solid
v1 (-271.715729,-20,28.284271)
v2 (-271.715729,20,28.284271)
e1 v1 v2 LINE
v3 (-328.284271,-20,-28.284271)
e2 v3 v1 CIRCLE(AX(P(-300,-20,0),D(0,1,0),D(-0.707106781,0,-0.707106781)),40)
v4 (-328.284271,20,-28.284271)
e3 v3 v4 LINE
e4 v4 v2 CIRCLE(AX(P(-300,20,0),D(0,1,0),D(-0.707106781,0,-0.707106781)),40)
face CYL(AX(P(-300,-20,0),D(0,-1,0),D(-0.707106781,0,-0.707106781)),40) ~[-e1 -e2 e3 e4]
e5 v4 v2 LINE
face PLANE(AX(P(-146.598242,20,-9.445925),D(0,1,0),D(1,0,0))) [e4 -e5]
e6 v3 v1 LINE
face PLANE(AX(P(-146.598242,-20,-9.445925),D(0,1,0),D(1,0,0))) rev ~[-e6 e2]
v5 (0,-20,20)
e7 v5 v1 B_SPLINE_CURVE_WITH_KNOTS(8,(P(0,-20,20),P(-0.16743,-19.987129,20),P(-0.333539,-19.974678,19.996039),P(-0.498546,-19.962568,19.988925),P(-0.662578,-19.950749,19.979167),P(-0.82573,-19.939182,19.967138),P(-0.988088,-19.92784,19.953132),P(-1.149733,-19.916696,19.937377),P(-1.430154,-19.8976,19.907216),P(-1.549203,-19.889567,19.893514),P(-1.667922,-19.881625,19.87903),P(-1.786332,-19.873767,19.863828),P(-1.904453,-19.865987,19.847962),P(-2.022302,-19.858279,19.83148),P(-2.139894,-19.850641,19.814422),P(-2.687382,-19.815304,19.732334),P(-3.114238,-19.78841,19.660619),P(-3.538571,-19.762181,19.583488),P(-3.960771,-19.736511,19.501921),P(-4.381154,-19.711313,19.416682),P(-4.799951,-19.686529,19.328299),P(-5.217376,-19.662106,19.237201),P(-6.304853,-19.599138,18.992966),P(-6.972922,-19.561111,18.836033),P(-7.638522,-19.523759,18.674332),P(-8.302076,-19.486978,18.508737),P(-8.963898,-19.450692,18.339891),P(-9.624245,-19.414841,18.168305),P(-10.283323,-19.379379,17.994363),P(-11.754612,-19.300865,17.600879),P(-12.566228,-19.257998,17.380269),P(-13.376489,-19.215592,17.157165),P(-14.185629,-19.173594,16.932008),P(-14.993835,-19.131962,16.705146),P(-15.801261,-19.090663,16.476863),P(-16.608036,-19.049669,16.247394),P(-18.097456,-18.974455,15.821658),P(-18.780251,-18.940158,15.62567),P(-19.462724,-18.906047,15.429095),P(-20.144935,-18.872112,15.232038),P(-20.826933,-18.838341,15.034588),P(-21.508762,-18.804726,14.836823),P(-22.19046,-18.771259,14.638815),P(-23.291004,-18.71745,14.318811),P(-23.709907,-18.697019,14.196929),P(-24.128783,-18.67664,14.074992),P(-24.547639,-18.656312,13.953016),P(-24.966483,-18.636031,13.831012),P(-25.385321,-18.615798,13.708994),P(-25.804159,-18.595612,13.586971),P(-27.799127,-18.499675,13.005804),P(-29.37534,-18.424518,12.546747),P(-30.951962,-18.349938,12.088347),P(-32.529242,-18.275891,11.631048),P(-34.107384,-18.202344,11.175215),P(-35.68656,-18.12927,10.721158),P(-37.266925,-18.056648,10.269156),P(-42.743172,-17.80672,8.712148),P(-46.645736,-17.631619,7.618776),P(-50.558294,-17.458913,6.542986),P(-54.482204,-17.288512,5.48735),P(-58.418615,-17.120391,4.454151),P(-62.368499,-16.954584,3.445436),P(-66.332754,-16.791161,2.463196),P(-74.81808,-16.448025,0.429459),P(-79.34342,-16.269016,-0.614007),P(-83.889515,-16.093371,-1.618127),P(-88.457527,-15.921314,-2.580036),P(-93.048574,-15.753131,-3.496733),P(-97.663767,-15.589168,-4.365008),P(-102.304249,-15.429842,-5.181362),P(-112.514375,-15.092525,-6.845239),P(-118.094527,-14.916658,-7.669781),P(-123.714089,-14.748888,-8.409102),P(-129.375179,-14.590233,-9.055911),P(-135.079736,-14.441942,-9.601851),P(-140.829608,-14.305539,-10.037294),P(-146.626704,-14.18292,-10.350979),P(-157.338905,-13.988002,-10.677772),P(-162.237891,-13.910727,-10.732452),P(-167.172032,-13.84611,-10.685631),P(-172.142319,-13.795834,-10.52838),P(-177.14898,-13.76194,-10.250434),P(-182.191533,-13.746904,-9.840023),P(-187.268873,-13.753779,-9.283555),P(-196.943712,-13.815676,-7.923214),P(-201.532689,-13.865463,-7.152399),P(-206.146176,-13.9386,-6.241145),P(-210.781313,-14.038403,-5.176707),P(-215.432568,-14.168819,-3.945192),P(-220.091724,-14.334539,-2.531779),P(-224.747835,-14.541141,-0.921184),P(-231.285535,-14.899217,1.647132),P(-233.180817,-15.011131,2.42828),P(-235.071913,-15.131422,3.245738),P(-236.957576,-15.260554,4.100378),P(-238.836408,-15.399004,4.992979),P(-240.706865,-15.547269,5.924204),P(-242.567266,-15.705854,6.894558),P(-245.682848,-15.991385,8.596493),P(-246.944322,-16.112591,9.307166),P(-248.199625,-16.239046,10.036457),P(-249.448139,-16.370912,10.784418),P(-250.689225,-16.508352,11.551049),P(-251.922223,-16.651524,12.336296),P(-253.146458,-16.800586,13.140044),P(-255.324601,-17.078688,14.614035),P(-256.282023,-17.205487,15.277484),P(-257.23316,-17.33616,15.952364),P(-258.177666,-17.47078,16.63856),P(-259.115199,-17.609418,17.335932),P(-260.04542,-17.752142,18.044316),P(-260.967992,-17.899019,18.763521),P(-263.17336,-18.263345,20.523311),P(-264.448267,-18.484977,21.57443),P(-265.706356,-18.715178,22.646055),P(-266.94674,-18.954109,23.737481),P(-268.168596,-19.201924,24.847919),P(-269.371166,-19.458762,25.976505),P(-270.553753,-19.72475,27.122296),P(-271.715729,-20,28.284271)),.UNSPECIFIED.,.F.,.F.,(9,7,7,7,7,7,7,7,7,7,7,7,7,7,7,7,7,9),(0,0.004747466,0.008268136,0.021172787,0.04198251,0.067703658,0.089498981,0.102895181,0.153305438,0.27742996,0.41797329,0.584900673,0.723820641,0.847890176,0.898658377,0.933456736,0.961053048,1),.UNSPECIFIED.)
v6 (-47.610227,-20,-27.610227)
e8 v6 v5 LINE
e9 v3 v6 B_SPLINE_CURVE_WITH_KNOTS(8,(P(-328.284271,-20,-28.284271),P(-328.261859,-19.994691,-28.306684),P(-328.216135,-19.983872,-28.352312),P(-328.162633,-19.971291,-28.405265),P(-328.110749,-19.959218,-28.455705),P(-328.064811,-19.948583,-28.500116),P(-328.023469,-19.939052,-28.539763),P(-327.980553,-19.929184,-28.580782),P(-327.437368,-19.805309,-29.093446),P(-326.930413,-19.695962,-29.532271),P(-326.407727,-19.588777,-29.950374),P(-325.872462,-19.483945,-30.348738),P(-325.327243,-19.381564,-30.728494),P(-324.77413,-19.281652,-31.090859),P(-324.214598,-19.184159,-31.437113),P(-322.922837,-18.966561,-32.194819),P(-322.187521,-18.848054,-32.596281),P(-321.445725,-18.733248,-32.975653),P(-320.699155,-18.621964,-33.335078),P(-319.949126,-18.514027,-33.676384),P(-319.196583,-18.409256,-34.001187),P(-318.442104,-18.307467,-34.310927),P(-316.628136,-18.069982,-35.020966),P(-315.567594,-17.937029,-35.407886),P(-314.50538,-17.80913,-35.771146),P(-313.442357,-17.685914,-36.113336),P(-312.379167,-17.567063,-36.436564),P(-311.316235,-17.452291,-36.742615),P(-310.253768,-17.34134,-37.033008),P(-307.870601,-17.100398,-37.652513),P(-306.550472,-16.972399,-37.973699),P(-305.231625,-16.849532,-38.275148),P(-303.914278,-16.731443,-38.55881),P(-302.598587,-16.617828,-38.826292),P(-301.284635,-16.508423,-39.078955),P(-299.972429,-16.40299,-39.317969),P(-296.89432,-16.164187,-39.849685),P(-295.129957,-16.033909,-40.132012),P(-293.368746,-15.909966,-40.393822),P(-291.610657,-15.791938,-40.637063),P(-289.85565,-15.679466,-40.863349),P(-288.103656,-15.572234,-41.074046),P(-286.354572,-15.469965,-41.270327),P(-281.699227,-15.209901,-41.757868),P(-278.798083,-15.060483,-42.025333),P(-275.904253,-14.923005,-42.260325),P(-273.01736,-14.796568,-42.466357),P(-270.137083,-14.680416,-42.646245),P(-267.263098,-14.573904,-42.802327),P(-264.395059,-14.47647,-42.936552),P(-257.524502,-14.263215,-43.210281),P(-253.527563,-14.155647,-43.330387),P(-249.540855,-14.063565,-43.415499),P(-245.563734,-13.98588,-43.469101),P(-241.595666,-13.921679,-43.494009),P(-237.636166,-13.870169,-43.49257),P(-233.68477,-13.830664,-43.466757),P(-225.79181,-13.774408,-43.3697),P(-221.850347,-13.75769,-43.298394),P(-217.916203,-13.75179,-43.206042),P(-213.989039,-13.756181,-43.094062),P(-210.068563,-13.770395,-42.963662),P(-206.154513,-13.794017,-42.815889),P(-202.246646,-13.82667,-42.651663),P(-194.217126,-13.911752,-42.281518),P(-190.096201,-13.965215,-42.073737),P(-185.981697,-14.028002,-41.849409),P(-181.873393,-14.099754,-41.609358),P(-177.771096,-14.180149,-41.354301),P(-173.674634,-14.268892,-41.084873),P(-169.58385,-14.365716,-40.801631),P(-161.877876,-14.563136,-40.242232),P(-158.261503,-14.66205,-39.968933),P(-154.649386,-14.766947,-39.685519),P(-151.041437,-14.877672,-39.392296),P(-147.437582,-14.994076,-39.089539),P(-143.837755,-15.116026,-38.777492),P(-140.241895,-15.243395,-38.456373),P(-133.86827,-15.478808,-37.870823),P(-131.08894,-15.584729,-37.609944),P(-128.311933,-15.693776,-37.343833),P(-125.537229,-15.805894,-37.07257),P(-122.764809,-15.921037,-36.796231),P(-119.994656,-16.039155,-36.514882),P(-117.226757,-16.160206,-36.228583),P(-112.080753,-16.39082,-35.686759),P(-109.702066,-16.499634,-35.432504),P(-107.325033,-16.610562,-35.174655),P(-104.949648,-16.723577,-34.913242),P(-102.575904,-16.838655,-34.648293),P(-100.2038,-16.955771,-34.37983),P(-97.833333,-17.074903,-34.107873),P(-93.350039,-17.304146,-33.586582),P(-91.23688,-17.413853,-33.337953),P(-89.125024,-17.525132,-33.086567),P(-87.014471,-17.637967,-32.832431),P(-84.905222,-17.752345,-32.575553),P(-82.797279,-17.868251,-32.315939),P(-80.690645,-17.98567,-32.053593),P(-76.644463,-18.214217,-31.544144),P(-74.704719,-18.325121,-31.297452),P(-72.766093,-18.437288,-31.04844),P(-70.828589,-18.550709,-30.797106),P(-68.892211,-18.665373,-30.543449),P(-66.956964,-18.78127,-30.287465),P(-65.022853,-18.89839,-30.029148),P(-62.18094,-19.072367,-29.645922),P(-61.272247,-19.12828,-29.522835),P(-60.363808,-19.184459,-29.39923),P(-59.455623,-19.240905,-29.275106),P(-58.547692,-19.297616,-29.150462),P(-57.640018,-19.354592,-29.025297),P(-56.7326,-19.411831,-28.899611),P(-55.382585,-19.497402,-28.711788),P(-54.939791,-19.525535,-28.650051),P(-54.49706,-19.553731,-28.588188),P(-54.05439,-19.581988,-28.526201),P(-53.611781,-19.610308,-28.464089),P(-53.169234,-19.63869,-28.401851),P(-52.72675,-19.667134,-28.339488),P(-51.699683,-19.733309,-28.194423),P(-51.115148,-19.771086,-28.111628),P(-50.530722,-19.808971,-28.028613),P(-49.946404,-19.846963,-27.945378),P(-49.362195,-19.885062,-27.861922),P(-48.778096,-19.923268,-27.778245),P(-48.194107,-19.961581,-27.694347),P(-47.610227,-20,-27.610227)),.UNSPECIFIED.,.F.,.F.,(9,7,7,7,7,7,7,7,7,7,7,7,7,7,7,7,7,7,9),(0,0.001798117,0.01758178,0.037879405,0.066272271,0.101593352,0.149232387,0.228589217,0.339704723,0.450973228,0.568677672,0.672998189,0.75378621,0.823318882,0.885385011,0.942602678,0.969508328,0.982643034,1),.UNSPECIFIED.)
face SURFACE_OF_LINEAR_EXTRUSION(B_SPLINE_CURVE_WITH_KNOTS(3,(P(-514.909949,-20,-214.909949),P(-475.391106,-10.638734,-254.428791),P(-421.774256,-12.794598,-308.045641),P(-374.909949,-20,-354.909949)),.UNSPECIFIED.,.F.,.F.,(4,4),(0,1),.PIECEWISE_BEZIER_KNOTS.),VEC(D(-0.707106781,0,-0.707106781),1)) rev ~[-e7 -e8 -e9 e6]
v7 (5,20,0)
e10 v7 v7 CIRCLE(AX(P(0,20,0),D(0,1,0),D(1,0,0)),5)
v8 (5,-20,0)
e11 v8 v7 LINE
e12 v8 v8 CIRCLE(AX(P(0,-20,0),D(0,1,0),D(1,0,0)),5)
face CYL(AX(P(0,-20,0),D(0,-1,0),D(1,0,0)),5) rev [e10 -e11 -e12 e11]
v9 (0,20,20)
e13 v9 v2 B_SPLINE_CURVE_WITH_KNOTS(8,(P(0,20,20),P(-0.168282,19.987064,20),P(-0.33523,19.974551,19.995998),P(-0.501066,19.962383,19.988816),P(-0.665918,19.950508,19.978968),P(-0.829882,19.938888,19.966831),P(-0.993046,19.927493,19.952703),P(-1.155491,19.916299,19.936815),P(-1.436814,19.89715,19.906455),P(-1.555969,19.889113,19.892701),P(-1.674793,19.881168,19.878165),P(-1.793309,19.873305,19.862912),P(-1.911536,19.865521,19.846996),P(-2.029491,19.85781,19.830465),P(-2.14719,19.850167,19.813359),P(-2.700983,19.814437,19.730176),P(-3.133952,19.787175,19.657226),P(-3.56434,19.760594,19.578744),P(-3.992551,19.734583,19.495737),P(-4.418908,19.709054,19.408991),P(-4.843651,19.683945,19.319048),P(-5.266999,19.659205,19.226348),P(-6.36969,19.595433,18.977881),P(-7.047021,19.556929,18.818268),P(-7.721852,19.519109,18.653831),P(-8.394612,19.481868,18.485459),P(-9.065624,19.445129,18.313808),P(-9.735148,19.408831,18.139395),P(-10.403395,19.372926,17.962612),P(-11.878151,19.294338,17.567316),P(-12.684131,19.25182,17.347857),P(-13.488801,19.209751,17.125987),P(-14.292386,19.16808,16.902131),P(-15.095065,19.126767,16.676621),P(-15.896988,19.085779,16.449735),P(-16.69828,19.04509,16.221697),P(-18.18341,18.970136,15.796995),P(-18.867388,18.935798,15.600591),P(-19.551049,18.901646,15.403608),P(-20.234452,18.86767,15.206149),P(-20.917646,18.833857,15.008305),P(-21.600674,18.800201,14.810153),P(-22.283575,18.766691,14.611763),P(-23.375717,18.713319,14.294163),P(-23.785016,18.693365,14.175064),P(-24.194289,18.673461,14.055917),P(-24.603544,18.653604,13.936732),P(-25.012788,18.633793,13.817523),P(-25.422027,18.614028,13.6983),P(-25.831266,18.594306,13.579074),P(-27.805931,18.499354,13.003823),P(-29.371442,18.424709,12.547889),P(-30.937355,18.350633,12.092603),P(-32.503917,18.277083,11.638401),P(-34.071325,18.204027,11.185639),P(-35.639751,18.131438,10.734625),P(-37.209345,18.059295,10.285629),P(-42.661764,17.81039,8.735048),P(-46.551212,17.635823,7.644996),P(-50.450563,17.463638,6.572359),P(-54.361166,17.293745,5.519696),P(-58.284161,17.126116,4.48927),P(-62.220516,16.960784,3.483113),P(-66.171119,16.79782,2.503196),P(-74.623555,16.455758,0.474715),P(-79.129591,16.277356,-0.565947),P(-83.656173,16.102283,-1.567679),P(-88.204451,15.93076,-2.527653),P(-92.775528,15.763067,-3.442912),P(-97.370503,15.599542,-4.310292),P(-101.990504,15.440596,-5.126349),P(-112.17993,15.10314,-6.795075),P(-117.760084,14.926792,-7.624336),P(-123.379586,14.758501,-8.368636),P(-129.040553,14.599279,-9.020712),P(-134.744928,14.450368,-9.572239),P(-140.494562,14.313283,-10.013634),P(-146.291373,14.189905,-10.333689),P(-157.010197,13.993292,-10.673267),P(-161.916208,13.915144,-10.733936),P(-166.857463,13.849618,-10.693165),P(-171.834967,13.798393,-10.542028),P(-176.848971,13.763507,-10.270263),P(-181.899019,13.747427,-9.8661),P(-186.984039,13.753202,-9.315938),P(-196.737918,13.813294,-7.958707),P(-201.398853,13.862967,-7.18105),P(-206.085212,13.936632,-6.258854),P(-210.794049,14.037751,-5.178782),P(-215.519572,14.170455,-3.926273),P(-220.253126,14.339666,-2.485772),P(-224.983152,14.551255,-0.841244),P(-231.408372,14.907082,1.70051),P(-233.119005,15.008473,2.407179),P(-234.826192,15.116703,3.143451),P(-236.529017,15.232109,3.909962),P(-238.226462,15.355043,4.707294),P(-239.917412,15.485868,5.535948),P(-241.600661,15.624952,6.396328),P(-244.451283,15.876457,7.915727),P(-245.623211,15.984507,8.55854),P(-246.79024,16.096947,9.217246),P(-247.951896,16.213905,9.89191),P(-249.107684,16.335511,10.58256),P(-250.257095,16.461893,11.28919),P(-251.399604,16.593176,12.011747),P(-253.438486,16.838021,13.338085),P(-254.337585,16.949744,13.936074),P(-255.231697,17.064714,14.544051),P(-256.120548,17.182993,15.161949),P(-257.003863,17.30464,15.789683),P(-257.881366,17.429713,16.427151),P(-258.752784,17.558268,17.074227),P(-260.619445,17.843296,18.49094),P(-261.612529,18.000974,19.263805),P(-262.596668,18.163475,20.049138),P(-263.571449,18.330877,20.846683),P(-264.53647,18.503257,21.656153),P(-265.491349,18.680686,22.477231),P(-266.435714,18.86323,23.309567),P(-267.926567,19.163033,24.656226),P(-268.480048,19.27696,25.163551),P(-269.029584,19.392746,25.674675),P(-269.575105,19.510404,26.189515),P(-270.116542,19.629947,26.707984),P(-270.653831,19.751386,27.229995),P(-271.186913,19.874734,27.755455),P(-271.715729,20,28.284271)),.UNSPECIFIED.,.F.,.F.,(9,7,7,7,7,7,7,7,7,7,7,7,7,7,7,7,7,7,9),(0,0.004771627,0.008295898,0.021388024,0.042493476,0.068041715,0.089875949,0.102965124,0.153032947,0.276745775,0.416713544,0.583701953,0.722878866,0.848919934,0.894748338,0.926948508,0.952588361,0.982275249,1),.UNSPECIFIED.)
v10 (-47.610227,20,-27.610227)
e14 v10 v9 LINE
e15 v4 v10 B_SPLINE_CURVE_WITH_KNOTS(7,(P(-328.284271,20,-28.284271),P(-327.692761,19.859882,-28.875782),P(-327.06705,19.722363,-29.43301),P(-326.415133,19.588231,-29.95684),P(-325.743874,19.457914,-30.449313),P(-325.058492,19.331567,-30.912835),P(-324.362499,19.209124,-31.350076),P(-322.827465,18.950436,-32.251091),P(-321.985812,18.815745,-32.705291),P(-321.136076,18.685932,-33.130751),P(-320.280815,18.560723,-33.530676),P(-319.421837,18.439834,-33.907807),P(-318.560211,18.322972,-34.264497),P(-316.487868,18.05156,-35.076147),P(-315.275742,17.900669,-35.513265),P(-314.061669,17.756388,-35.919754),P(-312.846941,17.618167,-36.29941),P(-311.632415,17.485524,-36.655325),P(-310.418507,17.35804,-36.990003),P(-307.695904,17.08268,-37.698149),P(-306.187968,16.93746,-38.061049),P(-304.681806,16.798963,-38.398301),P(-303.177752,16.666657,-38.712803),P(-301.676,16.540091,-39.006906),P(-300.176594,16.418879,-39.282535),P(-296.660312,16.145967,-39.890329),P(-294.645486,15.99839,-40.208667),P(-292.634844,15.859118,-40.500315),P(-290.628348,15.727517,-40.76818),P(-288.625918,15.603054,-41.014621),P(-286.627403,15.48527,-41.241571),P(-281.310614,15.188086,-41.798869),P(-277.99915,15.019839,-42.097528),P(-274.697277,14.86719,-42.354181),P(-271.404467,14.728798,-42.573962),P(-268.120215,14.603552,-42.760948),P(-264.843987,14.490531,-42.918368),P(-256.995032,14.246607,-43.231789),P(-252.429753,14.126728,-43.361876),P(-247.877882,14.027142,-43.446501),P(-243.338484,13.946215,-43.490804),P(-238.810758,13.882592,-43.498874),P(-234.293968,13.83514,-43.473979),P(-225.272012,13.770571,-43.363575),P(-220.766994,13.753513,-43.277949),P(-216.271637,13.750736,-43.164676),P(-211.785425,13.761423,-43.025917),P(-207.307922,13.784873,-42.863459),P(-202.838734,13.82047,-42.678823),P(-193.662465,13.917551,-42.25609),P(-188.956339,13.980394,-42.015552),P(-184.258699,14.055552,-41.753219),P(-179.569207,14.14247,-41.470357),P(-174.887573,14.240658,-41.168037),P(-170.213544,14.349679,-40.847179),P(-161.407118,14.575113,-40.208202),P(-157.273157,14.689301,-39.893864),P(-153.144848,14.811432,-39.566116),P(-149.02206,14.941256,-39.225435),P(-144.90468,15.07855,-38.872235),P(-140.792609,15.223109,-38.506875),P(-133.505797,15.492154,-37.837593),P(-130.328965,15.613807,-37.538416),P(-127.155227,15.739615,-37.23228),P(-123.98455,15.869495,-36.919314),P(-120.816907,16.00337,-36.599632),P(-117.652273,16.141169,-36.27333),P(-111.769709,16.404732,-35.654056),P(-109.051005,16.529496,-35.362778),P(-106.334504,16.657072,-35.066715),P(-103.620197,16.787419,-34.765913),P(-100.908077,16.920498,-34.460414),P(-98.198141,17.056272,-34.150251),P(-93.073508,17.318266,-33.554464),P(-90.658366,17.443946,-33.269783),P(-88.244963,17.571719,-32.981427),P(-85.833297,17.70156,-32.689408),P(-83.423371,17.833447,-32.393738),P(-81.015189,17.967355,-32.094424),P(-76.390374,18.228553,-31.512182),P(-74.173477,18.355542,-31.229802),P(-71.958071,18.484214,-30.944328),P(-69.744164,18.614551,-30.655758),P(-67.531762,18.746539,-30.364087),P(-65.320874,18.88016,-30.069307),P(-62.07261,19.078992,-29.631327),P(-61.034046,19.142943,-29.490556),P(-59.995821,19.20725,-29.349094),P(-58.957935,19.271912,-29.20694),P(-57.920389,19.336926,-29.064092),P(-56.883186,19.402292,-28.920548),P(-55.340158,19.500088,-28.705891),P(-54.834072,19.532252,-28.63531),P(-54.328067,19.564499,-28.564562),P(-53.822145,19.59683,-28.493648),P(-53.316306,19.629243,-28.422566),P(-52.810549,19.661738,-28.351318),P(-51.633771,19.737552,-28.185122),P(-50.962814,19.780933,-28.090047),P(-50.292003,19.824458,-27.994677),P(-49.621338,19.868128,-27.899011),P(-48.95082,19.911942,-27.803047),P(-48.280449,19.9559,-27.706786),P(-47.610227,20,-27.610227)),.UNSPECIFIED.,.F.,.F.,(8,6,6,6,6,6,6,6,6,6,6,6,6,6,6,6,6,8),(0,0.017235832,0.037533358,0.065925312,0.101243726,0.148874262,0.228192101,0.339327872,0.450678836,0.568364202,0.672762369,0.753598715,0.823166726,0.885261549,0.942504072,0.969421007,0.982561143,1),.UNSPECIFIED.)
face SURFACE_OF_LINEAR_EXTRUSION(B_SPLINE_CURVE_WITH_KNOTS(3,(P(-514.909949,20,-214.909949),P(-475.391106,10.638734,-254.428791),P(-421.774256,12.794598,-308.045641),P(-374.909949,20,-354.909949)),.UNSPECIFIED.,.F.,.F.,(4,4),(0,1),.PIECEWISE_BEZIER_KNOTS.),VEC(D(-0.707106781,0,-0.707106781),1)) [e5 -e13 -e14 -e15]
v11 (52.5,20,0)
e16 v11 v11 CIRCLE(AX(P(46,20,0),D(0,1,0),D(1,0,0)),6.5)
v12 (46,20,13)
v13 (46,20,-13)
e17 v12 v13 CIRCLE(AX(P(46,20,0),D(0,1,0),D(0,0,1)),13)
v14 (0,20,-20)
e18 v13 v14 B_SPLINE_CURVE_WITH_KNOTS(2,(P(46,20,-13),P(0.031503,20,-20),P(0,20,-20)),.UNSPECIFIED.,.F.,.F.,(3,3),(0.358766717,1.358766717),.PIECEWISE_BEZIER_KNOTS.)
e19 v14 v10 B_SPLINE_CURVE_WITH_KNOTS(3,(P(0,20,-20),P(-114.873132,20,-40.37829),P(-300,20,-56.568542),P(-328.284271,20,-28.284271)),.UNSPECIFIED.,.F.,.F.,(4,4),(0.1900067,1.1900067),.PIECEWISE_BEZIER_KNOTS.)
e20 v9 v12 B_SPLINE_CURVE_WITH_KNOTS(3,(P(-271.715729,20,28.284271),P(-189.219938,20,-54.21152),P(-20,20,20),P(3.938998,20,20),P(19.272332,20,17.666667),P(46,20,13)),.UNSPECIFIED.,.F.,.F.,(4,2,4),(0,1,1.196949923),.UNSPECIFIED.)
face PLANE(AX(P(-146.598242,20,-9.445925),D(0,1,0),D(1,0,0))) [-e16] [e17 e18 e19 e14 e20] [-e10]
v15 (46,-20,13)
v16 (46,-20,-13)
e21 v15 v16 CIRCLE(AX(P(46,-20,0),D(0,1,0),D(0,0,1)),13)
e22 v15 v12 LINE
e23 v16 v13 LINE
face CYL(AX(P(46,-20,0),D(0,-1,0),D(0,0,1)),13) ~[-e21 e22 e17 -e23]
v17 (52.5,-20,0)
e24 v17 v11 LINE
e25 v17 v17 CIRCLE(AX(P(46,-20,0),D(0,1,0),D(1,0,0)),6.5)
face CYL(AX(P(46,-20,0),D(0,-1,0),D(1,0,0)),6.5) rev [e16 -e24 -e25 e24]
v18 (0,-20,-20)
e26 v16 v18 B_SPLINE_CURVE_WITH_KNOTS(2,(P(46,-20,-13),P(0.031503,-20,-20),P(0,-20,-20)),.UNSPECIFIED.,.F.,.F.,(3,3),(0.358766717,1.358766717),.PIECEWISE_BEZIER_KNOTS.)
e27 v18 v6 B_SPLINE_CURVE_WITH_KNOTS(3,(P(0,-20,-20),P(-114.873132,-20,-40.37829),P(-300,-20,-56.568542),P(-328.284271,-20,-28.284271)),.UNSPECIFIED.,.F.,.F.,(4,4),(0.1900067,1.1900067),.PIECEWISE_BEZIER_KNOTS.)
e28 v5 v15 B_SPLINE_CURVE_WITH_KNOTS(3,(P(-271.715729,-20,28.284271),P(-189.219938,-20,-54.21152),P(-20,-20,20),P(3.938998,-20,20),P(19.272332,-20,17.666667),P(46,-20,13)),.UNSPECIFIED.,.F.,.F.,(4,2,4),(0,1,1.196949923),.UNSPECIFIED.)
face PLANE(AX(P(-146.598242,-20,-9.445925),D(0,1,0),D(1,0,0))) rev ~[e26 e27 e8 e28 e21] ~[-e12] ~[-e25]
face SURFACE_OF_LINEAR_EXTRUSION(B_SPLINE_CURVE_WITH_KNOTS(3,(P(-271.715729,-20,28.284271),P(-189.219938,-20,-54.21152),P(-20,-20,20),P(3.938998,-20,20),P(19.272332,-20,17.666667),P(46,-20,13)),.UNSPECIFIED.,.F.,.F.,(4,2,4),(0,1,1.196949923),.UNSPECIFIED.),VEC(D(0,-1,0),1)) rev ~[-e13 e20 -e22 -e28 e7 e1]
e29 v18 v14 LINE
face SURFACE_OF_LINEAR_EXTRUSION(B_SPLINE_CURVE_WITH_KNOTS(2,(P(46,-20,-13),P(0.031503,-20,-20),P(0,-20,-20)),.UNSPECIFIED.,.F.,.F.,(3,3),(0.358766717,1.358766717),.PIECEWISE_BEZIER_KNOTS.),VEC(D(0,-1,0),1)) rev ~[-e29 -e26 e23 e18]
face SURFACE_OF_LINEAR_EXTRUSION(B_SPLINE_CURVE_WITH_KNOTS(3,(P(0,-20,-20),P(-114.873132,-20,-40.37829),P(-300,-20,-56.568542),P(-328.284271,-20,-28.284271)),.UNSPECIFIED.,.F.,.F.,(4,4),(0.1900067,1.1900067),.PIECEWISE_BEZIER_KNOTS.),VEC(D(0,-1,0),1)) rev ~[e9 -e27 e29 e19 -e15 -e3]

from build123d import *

# Parameters (mm, degrees)
BOSS_EXTRUDE1_DEPTH      = 20
BOSS_EXTRUDE1_DEPTH_BACK = 20
SKETCH1_R                = 5
SKETCH1_R_2              = 6.5
CUT_EXTRUDE2_DEPTH       = 343.928564136
CUT_EXTRUDE2_DEPTH_BACK  = 343.928564136


with BuildPart() as part:
    # Sketch1 → Boss-Extrude1 (new, two sides: drawn at the far end of the back side and taken through both)
    with BuildSketch(Plane(origin=(0, 0, 0), x_dir=(1, 0, 0), z_dir=(0, 1, 0)).offset(-BOSS_EXTRUDE1_DEPTH_BACK)):
        with BuildLine():
            ThreePointArc((-328.284271247, 28.284271247), (-328.284271247, -28.284271247), (-271.715728753, -28.284271247))
            add(Edge.make_bspline(
                [(-271.715728753, -28.284271247), (-189.219937614, 54.211519891), (-20, -20), (3.938998468, -20), (19.272331802, -17.666666667), (46, -13)],
                knots=[0, 0, 0, 0, 1, 1, 1.196949923, 1.196949923, 1.196949923, 1.196949923], degree=3))
            ThreePointArc((46, -13), (59, 0), (46, 13))
            add(Edge.make_bspline(
                [(46, 13), (0.03150303, 20), (0, 20)],
                knots=[0.358766717, 0.358766717, 0.358766717, 1.358766717, 1.358766717, 1.358766717], degree=2))
            add(Edge.make_bspline(
                [(0, 20), (-114.873131821, 40.378289836), (-300, 56.568542495), (-328.284271247, 28.284271247)],
                knots=[0.1900067, 0.1900067, 0.1900067, 0.1900067, 1.1900067, 1.1900067, 1.1900067, 1.1900067], degree=3))
        make_face()
        Circle(SKETCH1_R, mode=Mode.SUBTRACT)
        with Locations((46, 0)):
            Circle(SKETCH1_R_2, mode=Mode.SUBTRACT)
    extrude(amount=BOSS_EXTRUDE1_DEPTH + BOSS_EXTRUDE1_DEPTH_BACK)

    # Sketch3 → Cut-Extrude2 (cut, two sides: drawn at the far end of the back side and taken through both)
    with BuildSketch(Plane(origin=(-71.299423149, 0, -172.132034356), x_dir=(0.7071067811865464, 0, -0.7071067811865488), z_dir=(0.7071067811865488, 0, 0.7071067811865464)).offset(-CUT_EXTRUDE2_DEPTH_BACK)):
        with BuildLine():
            add(Edge.make_bspline(
                [(-283.431457505, -20), (-227.543374676, -10.63873359), (-151.71769793, -12.794597658), (-85.441558773, -20)],
                knots=[0, 0, 0, 0, 1, 1, 1, 1], degree=3))
            Line((-283.431457505, -20), (-85.441558773, -20))
        make_face()
        with BuildLine():
            Line((-85.441558773, 20), (-283.431457505, 20))
            add(Edge.make_bspline(
                [(-283.431457505, 20), (-227.543374676, 10.63873359), (-151.71769793, 12.794597658), (-85.441558773, 20)],
                knots=[0, 0, 0, 0, 1, 1, 1, 1], degree=3))
        make_face()
    extrude(amount=CUT_EXTRUDE2_DEPTH + CUT_EXTRUDE2_DEPTH_BACK, mode=Mode.SUBTRACT)


solid = part.part
